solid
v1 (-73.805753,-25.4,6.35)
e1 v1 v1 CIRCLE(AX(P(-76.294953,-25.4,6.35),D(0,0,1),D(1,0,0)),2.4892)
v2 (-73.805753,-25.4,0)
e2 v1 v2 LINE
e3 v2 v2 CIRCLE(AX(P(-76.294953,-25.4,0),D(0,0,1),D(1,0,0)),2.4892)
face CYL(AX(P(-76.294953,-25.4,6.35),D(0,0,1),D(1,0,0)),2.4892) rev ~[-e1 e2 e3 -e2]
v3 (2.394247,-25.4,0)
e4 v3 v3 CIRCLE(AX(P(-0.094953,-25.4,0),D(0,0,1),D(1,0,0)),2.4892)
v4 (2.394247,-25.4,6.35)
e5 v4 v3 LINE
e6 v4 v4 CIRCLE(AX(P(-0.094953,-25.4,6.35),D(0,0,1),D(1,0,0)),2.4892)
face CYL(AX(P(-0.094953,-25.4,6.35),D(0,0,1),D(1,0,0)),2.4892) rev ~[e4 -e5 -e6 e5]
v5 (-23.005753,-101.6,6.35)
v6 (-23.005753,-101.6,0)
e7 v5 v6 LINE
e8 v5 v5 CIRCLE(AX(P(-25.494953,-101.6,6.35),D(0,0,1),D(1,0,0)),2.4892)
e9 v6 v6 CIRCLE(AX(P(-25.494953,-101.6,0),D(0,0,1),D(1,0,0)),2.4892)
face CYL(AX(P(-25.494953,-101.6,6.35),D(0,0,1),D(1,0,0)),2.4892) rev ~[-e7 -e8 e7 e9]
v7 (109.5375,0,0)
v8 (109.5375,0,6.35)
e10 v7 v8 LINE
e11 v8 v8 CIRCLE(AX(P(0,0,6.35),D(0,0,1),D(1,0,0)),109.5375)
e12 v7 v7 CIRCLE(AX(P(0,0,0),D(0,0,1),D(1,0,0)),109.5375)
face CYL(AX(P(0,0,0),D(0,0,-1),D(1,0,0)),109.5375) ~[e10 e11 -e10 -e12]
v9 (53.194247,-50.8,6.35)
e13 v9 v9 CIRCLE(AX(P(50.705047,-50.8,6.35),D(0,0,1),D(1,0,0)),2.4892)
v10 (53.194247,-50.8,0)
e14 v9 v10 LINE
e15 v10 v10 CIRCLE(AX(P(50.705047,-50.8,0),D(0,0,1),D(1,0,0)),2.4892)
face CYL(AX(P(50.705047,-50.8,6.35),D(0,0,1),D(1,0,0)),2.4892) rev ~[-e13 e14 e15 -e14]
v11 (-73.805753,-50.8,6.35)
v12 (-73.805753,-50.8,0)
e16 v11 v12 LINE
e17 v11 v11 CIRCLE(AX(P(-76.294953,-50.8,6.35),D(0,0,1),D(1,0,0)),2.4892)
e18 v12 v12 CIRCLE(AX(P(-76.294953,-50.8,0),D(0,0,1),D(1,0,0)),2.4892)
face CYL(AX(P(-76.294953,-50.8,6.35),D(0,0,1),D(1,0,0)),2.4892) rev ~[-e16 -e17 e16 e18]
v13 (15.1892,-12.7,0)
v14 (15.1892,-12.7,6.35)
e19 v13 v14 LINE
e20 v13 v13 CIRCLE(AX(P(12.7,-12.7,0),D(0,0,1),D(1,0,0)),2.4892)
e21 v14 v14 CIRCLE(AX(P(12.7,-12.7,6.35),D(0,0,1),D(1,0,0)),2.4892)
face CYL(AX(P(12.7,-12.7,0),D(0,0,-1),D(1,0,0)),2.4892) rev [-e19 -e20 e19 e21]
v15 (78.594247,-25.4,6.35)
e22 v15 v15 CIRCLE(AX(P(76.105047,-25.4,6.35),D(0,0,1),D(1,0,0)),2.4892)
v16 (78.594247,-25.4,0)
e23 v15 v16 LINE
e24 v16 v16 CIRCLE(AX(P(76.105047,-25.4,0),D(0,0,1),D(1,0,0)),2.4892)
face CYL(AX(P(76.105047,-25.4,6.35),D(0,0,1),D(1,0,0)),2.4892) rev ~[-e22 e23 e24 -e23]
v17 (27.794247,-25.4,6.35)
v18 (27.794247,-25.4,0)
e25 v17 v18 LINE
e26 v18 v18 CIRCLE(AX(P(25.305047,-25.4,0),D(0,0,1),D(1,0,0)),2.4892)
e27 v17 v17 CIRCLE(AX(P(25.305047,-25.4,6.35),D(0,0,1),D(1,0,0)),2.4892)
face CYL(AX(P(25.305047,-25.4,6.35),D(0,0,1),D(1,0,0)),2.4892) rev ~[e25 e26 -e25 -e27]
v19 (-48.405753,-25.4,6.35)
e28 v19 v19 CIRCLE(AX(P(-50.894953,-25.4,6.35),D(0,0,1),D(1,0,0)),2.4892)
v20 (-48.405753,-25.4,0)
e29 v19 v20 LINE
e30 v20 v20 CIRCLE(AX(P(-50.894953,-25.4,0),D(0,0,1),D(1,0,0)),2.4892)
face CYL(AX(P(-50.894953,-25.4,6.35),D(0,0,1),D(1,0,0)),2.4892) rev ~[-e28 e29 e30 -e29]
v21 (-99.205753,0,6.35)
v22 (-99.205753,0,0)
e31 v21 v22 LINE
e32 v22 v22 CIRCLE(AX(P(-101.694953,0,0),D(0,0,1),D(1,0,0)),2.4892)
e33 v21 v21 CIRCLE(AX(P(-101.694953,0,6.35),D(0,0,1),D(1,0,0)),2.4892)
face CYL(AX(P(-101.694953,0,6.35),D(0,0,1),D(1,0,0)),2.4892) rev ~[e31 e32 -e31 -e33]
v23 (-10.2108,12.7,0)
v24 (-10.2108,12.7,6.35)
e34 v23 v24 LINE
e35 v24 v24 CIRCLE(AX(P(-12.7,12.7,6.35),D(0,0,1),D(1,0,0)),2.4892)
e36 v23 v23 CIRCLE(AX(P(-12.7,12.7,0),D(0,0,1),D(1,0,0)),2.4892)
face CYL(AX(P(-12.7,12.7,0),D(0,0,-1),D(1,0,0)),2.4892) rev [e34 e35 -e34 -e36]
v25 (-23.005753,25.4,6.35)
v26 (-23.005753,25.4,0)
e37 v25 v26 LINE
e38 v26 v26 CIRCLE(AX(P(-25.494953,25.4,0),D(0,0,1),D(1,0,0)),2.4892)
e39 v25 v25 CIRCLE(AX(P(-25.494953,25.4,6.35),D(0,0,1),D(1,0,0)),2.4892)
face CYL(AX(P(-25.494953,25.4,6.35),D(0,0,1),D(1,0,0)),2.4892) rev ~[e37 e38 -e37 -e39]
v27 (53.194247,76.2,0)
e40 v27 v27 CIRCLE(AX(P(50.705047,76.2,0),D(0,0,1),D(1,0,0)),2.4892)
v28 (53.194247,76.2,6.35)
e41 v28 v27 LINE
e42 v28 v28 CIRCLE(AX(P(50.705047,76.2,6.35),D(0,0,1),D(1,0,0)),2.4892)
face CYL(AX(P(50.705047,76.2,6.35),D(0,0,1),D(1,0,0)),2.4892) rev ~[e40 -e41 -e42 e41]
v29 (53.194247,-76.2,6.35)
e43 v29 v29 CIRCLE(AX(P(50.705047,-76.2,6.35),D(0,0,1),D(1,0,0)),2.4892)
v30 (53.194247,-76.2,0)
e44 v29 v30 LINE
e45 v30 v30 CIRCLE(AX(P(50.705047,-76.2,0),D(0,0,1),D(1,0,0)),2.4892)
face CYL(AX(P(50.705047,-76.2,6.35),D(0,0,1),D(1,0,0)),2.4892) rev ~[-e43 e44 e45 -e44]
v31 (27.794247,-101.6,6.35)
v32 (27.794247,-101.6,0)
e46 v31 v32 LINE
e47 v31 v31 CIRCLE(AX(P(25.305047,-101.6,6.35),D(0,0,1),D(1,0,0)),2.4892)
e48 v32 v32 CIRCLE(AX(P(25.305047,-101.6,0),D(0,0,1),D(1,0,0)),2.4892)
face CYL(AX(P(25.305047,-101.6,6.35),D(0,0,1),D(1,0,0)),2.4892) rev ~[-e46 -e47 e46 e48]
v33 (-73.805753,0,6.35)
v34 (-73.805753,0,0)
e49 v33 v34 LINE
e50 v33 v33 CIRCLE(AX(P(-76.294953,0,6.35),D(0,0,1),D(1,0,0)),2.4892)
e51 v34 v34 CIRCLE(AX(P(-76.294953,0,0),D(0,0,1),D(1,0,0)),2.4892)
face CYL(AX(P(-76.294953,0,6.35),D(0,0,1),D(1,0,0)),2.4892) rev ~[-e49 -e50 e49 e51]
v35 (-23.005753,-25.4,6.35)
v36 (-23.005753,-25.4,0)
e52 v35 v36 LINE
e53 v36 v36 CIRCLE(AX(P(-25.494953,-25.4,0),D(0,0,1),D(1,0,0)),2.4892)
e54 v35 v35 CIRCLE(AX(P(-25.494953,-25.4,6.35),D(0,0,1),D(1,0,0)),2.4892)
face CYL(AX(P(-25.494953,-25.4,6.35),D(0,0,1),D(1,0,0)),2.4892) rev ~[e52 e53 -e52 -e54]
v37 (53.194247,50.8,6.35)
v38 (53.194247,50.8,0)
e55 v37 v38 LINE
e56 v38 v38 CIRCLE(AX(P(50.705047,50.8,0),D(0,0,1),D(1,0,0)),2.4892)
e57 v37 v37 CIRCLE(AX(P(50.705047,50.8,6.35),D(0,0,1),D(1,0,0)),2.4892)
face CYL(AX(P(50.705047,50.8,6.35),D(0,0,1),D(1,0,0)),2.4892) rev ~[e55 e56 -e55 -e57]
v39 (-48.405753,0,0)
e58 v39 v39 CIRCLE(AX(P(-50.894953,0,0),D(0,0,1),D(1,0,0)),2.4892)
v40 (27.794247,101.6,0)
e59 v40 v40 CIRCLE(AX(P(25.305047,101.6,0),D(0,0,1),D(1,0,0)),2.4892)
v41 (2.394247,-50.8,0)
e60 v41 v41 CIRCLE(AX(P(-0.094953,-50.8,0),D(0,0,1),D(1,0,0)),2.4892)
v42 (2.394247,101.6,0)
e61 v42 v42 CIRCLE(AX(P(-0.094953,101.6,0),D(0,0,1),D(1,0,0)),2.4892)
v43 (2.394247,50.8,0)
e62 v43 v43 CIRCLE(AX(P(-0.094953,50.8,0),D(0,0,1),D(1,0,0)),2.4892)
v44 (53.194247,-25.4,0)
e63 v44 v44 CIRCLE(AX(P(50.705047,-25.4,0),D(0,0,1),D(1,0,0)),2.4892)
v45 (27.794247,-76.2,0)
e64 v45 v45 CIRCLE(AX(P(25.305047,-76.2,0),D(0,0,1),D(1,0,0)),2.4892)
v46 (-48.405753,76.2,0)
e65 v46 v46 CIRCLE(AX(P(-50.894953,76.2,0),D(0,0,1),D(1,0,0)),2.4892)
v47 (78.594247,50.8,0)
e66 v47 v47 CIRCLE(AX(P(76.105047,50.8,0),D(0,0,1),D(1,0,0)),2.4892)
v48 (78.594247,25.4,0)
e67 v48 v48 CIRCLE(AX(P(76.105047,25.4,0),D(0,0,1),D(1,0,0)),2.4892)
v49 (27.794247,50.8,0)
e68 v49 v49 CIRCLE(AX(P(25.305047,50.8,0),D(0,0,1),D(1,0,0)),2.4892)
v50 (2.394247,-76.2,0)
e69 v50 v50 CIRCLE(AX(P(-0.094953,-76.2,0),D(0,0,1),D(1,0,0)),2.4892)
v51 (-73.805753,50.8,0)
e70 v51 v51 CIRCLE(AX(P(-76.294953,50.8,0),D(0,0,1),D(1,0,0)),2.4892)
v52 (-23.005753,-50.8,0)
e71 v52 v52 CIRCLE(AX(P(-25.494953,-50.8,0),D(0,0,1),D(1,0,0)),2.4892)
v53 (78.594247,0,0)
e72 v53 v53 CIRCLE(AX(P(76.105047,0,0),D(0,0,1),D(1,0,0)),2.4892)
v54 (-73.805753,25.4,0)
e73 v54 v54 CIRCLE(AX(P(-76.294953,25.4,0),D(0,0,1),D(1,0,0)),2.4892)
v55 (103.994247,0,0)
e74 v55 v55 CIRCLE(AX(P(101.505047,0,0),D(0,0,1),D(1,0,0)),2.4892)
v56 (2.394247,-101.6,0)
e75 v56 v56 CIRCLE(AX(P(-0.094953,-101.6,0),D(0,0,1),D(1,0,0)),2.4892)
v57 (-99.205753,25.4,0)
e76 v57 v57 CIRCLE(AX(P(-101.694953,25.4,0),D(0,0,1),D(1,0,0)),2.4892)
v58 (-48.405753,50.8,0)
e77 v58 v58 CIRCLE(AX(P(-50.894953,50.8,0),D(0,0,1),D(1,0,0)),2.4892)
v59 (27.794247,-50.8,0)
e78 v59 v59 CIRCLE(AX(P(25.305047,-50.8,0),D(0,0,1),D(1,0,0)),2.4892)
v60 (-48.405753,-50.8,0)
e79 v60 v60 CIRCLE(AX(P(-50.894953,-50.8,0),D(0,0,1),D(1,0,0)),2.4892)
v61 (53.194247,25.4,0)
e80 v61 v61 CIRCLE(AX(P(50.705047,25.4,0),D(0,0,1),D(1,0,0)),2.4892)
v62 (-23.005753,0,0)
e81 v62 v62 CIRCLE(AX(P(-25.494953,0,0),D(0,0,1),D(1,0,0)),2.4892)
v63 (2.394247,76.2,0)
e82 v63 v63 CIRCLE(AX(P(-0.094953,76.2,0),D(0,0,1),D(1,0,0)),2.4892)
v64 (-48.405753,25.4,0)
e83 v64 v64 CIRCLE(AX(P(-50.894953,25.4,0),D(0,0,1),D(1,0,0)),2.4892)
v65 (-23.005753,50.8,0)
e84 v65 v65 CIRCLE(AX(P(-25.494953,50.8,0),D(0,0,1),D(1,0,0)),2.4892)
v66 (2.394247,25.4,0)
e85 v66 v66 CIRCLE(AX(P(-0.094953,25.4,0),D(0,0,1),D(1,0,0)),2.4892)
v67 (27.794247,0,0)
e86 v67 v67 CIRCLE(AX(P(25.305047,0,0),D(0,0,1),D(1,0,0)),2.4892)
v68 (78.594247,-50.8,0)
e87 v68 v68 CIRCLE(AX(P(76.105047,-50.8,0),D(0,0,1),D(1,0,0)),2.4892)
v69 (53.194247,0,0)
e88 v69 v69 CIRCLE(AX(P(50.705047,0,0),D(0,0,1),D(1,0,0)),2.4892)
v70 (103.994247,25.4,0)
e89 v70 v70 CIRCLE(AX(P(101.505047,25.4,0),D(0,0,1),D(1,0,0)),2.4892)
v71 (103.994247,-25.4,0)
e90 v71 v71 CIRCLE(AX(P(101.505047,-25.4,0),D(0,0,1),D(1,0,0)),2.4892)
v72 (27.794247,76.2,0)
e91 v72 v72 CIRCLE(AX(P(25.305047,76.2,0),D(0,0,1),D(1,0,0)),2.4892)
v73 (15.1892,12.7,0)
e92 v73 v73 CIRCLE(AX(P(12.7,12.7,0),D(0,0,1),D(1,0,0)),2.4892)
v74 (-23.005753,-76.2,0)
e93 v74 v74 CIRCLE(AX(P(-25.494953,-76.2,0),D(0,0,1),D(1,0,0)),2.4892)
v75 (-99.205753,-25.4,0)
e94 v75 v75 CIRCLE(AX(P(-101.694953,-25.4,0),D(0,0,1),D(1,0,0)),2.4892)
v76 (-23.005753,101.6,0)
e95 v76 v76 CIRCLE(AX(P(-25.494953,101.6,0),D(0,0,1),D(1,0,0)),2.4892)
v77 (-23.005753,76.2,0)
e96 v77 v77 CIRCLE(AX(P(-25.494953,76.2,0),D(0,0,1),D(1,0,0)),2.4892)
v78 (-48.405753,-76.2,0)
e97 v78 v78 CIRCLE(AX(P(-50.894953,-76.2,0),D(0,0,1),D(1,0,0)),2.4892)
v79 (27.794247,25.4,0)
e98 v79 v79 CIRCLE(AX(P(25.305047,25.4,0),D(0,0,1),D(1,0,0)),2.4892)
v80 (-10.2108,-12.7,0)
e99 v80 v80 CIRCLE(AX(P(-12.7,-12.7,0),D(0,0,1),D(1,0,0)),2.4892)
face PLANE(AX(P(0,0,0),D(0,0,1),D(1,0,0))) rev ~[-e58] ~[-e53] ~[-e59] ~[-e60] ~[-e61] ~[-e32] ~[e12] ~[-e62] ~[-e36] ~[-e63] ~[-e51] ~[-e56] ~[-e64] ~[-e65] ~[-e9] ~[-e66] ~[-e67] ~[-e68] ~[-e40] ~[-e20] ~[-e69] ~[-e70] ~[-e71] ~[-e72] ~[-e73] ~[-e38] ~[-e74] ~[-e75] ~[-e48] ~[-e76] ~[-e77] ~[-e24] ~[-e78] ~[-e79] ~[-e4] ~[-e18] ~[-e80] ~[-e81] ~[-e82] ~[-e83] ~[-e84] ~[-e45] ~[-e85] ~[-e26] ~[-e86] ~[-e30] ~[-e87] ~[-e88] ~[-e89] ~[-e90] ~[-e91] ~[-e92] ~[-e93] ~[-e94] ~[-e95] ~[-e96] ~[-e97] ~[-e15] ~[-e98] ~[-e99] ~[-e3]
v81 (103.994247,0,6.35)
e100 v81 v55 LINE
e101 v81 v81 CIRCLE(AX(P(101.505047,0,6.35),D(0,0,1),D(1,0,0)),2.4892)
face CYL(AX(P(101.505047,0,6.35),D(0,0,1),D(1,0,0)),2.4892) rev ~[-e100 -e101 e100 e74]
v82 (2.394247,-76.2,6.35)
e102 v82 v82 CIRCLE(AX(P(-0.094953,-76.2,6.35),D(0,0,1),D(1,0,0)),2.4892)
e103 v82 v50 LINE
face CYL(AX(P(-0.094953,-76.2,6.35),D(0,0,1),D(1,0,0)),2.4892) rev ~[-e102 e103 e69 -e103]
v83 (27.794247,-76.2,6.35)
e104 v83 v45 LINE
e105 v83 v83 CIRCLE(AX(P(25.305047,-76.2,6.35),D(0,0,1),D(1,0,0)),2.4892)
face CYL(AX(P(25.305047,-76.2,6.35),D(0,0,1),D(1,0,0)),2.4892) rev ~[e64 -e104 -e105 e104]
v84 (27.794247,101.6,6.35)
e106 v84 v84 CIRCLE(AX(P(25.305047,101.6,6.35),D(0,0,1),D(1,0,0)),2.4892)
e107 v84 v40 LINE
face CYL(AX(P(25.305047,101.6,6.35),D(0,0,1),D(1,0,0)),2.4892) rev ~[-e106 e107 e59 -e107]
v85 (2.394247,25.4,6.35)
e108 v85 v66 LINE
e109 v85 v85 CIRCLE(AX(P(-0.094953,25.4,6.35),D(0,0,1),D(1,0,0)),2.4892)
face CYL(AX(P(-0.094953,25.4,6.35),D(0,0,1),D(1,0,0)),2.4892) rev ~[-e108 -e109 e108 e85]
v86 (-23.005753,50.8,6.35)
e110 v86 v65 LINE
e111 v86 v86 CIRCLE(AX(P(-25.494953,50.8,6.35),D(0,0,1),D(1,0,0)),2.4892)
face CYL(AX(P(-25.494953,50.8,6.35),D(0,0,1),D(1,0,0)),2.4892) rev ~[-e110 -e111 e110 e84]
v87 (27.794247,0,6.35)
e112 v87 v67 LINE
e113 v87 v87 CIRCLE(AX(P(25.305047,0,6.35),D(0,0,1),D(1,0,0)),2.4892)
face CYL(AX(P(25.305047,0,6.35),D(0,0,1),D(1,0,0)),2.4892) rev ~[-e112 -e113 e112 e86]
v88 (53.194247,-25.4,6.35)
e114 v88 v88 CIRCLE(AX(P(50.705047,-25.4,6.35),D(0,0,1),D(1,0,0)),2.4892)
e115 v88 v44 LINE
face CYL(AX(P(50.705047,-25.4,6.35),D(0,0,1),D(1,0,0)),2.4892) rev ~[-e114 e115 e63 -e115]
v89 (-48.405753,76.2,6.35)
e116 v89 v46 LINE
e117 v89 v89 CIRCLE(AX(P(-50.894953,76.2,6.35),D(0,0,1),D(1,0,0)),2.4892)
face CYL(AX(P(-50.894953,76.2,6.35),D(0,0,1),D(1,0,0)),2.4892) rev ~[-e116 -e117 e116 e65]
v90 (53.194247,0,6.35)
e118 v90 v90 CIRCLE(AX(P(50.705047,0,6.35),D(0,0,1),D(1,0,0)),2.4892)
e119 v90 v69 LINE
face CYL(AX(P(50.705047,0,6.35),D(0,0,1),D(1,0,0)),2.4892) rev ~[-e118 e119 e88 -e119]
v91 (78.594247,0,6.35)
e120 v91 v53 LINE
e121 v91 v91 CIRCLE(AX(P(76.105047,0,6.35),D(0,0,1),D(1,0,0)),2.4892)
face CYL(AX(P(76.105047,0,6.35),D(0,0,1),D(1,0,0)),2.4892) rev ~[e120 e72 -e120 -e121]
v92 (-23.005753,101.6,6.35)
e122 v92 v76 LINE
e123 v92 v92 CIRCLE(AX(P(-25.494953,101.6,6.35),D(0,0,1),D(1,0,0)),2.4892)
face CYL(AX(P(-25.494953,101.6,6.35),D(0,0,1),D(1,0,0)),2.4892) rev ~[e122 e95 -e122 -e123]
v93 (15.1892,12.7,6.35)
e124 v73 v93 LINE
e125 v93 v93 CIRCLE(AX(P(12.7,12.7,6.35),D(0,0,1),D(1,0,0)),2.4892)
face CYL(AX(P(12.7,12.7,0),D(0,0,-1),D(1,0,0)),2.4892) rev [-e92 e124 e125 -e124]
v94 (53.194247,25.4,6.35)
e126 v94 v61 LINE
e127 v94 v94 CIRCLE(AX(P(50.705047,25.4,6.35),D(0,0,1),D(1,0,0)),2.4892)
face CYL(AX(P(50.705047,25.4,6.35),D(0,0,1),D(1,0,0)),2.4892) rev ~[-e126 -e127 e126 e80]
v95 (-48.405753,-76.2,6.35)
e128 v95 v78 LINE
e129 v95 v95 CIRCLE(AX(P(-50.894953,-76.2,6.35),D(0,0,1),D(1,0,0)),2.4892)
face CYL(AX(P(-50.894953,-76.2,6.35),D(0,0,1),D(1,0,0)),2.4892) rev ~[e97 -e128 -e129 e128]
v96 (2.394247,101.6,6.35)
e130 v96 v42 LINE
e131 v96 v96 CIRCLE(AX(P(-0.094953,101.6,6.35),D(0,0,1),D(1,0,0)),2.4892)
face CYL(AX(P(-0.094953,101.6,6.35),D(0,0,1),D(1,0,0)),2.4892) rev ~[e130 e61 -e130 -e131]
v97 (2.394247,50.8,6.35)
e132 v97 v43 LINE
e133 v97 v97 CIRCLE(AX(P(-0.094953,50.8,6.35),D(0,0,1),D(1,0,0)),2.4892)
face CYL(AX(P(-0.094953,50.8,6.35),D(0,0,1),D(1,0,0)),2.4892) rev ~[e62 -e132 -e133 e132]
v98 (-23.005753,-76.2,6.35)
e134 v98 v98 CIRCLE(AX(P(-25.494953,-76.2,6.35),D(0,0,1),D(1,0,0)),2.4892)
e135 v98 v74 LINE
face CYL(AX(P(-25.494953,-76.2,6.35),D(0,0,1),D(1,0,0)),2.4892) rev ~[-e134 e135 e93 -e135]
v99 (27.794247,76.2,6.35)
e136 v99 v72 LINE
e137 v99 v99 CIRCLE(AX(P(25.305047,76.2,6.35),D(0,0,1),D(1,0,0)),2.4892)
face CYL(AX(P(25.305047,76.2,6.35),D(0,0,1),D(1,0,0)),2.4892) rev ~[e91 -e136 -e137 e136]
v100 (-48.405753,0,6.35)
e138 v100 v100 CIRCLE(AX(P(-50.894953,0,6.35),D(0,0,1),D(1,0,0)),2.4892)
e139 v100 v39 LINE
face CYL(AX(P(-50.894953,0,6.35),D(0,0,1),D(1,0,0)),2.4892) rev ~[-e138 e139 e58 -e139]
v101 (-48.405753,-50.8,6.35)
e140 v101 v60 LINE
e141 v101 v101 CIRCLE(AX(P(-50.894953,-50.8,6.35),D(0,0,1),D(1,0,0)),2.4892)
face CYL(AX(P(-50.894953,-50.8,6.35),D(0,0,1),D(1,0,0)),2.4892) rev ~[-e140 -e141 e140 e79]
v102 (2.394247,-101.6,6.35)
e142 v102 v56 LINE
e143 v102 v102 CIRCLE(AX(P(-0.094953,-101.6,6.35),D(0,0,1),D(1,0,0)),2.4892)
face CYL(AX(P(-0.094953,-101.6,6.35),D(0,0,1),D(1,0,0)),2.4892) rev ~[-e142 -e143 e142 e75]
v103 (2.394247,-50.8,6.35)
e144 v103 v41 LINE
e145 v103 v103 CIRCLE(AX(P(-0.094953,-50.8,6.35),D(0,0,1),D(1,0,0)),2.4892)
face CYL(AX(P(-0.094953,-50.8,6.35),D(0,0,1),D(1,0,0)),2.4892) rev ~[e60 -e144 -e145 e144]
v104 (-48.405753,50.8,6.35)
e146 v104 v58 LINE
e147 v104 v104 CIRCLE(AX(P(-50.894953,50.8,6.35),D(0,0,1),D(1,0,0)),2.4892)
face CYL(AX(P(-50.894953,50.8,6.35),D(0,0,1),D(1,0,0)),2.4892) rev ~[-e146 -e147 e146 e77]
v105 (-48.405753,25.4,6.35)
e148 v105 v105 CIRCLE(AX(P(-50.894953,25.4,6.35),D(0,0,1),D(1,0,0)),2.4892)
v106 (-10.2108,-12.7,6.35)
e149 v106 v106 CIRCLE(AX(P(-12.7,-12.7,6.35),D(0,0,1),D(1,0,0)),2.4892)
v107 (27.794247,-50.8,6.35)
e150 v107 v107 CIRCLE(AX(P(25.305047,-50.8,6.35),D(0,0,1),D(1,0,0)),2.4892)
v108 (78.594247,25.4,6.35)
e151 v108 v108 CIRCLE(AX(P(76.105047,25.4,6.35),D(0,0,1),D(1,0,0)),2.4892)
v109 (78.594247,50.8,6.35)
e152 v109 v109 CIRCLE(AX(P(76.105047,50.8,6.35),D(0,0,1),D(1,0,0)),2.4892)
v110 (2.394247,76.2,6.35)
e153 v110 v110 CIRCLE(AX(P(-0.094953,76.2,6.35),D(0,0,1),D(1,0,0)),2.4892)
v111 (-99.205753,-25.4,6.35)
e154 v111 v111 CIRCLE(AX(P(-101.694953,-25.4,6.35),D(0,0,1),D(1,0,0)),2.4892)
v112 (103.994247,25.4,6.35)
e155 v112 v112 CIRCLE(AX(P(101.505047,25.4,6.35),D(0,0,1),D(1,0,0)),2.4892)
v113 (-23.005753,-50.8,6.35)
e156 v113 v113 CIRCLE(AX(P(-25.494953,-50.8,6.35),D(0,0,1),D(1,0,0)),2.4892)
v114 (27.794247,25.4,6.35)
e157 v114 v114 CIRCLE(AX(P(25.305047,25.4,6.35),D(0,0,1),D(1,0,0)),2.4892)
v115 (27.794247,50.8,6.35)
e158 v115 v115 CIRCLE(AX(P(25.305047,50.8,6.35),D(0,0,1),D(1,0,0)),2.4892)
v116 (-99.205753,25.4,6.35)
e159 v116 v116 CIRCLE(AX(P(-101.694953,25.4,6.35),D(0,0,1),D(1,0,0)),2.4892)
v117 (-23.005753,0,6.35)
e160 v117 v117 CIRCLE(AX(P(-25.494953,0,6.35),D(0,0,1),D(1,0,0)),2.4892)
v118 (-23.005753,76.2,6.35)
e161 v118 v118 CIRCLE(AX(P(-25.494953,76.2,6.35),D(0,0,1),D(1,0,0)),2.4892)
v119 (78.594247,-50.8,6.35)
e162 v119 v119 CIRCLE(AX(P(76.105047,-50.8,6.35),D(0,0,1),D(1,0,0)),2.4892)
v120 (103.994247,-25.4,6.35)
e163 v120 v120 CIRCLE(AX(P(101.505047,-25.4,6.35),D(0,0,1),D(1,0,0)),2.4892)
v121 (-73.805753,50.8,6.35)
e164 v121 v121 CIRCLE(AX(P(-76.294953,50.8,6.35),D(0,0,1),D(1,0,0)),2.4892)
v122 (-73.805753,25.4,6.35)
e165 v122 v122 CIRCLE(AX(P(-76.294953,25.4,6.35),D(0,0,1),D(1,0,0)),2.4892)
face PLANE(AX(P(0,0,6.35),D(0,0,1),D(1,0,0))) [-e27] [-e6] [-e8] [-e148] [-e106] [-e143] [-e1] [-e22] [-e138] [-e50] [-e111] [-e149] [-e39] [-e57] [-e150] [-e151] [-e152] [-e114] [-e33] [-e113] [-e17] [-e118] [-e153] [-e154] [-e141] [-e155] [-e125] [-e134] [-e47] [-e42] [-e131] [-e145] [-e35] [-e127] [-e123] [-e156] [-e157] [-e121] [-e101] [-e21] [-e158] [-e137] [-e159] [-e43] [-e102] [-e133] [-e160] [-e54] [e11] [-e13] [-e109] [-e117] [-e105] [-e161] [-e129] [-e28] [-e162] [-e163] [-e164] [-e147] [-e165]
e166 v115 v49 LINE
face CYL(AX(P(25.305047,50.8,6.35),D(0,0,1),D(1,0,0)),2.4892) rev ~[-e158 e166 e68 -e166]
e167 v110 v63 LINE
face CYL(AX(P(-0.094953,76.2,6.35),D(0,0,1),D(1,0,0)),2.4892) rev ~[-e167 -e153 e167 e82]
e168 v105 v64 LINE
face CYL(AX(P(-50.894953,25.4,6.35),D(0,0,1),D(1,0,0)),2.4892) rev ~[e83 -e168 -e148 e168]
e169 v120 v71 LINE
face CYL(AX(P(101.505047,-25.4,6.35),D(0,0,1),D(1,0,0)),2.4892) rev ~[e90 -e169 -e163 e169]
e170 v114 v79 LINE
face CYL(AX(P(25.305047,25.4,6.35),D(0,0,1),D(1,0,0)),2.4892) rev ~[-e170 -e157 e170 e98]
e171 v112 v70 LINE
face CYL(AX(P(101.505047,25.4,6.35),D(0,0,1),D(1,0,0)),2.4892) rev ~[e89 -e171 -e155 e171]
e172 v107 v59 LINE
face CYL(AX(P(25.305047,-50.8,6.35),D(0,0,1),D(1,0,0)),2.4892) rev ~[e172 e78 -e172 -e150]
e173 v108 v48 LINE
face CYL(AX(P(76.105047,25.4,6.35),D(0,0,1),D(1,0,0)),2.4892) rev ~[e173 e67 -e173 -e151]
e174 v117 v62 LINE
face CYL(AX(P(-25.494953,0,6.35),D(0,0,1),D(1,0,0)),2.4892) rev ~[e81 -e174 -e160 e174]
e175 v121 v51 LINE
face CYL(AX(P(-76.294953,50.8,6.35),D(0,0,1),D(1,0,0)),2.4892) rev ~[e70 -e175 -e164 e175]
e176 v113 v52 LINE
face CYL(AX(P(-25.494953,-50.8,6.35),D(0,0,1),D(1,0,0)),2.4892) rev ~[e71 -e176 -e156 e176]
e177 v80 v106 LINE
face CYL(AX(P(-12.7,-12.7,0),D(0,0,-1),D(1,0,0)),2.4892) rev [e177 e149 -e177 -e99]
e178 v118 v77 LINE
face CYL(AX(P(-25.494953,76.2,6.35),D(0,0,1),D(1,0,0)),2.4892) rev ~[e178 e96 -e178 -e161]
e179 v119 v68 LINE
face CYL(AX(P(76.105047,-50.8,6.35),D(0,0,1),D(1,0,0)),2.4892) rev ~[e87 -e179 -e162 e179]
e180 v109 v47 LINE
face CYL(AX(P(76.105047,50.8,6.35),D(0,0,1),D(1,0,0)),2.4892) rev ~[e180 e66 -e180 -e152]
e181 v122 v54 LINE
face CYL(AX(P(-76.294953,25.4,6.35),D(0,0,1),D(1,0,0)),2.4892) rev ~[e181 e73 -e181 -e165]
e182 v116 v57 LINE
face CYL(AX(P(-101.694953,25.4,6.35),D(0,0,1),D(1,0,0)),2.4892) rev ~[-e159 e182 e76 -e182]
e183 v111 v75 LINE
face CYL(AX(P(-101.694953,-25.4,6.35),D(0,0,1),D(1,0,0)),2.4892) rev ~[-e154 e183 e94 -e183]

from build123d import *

# Parameters (mm, degrees)
SKETCH1_R           = 109.5375
SKETCH1_R_2         = 2.4892
BOSS_EXTRUDE1_DEPTH = 6.35
SKETCH2_R           = 2.4892
CUT_EXTRUDE1_DEPTH  = 6.35


with BuildPart() as part:
    # Sketch1 → Boss-Extrude1 (new body)
    with BuildSketch(Plane.XY):
        Circle(SKETCH1_R)
        with Locations((-12.7, 12.7)):
            Circle(SKETCH1_R_2, mode=Mode.SUBTRACT)
        with Locations((12.7, 12.7)):
            Circle(SKETCH1_R_2, mode=Mode.SUBTRACT)
        with Locations((12.7, -12.7)):
            Circle(SKETCH1_R_2, mode=Mode.SUBTRACT)
        with Locations((-12.7, -12.7)):
            Circle(SKETCH1_R_2, mode=Mode.SUBTRACT)
    extrude(amount=BOSS_EXTRUDE1_DEPTH)

    # Sketch2 → Cut-Extrude1 (cut)
    with BuildSketch(Plane.XY.offset(6.35)):
        with Locations((25.305046536, -101.6)):
            Circle(SKETCH2_R)
        with Locations((25.305046536, -76.2)):
            Circle(SKETCH2_R)
        with Locations((-76.294953464, 0)):
            Circle(SKETCH2_R)
        with Locations((-76.294953464, 25.4)):
            Circle(SKETCH2_R)
        with Locations((-76.294953464, 50.8)):
            Circle(SKETCH2_R)
        with Locations((-0.094953464, -76.2)):
            Circle(SKETCH2_R)
        with Locations((50.705046536, -76.2)):
            Circle(SKETCH2_R)
        with Locations((-25.494953464, -50.8)):
            Circle(SKETCH2_R)
        with Locations((-0.094953464, -50.8)):
            Circle(SKETCH2_R)
        with Locations((25.305046536, -50.8)):
            Circle(SKETCH2_R)
        with Locations((50.705046536, -50.8)):
            Circle(SKETCH2_R)
        with Locations((76.105046536, -50.8)):
            Circle(SKETCH2_R)
        with Locations((-50.894953464, -25.4)):
            Circle(SKETCH2_R)
        with Locations((-25.494953464, -25.4)):
            Circle(SKETCH2_R)
        with Locations((-0.094953464, -25.4)):
            Circle(SKETCH2_R)
        with Locations((25.305046536, -25.4)):
            Circle(SKETCH2_R)
        with Locations((50.705046536, -25.4)):
            Circle(SKETCH2_R)
        with Locations((76.105046536, -25.4)):
            Circle(SKETCH2_R)
        with Locations((101.505046536, -25.4)):
            Circle(SKETCH2_R)
        with Locations((-50.894953464, 0)):
            Circle(SKETCH2_R)
        with Locations((-25.494953464, 0)):
            Circle(SKETCH2_R)
        with Locations((25.305046536, 0)):
            Circle(SKETCH2_R)
        with Locations((50.705046536, 0)):
            Circle(SKETCH2_R)
        with Locations((76.105046536, 0)):
            Circle(SKETCH2_R)
        with Locations((101.505046536, 0)):
            Circle(SKETCH2_R)
        with Locations((-50.894953464, 25.4)):
            Circle(SKETCH2_R)
        with Locations((-25.494953464, 25.4)):
            Circle(SKETCH2_R)
        with Locations((-0.094953464, 25.4)):
            Circle(SKETCH2_R)
        with Locations((25.305046536, 25.4)):
            Circle(SKETCH2_R)
        with Locations((50.705046536, 25.4)):
            Circle(SKETCH2_R)
        with Locations((76.105046536, 25.4)):
            Circle(SKETCH2_R)
        with Locations((101.505046536, 25.4)):
            Circle(SKETCH2_R)
        with Locations((-50.894953464, 50.8)):
            Circle(SKETCH2_R)
        with Locations((-25.494953464, 50.8)):
            Circle(SKETCH2_R)
        with Locations((-0.094953464, 50.8)):
            Circle(SKETCH2_R)
        with Locations((25.305046536, 50.8)):
            Circle(SKETCH2_R)
        with Locations((50.705046536, 50.8)):
            Circle(SKETCH2_R)
        with Locations((76.105046536, 50.8)):
            Circle(SKETCH2_R)
        with Locations((-50.894953464, 76.2)):
            Circle(SKETCH2_R)
        with Locations((-25.494953464, 76.2)):
            Circle(SKETCH2_R)
        with Locations((-0.094953464, 76.2)):
            Circle(SKETCH2_R)
        with Locations((25.305046536, 76.2)):
            Circle(SKETCH2_R)
        with Locations((50.705046536, 76.2)):
            Circle(SKETCH2_R)
        with Locations((-25.494953464, 101.6)):
            Circle(SKETCH2_R)
        with Locations((-0.094953464, 101.6)):
            Circle(SKETCH2_R)
        with Locations((25.305046536, 101.6)):
            Circle(SKETCH2_R)
        with Locations((-25.494953464, -101.6)):
            Circle(SKETCH2_R)
        with Locations((-0.094953464, -101.6)):
            Circle(SKETCH2_R)
        with Locations((-50.894953464, -76.2)):
            Circle(SKETCH2_R)
        with Locations((-25.494953464, -76.2)):
            Circle(SKETCH2_R)
        with Locations((-76.294953464, -50.8)):
            Circle(SKETCH2_R)
        with Locations((-50.894953464, -50.8)):
            Circle(SKETCH2_R)
        with Locations((-76.294953464, -25.4)):
            Circle(SKETCH2_R)
        with Locations((-101.694953464, -25.4)):
            Circle(SKETCH2_R)
        with Locations((-101.694953464, 0)):
            Circle(SKETCH2_R)
        with Locations((-101.694953464, 25.4)):
            Circle(SKETCH2_R)
    extrude(amount=-CUT_EXTRUDE1_DEPTH, mode=Mode.SUBTRACT)


solid = part.part
